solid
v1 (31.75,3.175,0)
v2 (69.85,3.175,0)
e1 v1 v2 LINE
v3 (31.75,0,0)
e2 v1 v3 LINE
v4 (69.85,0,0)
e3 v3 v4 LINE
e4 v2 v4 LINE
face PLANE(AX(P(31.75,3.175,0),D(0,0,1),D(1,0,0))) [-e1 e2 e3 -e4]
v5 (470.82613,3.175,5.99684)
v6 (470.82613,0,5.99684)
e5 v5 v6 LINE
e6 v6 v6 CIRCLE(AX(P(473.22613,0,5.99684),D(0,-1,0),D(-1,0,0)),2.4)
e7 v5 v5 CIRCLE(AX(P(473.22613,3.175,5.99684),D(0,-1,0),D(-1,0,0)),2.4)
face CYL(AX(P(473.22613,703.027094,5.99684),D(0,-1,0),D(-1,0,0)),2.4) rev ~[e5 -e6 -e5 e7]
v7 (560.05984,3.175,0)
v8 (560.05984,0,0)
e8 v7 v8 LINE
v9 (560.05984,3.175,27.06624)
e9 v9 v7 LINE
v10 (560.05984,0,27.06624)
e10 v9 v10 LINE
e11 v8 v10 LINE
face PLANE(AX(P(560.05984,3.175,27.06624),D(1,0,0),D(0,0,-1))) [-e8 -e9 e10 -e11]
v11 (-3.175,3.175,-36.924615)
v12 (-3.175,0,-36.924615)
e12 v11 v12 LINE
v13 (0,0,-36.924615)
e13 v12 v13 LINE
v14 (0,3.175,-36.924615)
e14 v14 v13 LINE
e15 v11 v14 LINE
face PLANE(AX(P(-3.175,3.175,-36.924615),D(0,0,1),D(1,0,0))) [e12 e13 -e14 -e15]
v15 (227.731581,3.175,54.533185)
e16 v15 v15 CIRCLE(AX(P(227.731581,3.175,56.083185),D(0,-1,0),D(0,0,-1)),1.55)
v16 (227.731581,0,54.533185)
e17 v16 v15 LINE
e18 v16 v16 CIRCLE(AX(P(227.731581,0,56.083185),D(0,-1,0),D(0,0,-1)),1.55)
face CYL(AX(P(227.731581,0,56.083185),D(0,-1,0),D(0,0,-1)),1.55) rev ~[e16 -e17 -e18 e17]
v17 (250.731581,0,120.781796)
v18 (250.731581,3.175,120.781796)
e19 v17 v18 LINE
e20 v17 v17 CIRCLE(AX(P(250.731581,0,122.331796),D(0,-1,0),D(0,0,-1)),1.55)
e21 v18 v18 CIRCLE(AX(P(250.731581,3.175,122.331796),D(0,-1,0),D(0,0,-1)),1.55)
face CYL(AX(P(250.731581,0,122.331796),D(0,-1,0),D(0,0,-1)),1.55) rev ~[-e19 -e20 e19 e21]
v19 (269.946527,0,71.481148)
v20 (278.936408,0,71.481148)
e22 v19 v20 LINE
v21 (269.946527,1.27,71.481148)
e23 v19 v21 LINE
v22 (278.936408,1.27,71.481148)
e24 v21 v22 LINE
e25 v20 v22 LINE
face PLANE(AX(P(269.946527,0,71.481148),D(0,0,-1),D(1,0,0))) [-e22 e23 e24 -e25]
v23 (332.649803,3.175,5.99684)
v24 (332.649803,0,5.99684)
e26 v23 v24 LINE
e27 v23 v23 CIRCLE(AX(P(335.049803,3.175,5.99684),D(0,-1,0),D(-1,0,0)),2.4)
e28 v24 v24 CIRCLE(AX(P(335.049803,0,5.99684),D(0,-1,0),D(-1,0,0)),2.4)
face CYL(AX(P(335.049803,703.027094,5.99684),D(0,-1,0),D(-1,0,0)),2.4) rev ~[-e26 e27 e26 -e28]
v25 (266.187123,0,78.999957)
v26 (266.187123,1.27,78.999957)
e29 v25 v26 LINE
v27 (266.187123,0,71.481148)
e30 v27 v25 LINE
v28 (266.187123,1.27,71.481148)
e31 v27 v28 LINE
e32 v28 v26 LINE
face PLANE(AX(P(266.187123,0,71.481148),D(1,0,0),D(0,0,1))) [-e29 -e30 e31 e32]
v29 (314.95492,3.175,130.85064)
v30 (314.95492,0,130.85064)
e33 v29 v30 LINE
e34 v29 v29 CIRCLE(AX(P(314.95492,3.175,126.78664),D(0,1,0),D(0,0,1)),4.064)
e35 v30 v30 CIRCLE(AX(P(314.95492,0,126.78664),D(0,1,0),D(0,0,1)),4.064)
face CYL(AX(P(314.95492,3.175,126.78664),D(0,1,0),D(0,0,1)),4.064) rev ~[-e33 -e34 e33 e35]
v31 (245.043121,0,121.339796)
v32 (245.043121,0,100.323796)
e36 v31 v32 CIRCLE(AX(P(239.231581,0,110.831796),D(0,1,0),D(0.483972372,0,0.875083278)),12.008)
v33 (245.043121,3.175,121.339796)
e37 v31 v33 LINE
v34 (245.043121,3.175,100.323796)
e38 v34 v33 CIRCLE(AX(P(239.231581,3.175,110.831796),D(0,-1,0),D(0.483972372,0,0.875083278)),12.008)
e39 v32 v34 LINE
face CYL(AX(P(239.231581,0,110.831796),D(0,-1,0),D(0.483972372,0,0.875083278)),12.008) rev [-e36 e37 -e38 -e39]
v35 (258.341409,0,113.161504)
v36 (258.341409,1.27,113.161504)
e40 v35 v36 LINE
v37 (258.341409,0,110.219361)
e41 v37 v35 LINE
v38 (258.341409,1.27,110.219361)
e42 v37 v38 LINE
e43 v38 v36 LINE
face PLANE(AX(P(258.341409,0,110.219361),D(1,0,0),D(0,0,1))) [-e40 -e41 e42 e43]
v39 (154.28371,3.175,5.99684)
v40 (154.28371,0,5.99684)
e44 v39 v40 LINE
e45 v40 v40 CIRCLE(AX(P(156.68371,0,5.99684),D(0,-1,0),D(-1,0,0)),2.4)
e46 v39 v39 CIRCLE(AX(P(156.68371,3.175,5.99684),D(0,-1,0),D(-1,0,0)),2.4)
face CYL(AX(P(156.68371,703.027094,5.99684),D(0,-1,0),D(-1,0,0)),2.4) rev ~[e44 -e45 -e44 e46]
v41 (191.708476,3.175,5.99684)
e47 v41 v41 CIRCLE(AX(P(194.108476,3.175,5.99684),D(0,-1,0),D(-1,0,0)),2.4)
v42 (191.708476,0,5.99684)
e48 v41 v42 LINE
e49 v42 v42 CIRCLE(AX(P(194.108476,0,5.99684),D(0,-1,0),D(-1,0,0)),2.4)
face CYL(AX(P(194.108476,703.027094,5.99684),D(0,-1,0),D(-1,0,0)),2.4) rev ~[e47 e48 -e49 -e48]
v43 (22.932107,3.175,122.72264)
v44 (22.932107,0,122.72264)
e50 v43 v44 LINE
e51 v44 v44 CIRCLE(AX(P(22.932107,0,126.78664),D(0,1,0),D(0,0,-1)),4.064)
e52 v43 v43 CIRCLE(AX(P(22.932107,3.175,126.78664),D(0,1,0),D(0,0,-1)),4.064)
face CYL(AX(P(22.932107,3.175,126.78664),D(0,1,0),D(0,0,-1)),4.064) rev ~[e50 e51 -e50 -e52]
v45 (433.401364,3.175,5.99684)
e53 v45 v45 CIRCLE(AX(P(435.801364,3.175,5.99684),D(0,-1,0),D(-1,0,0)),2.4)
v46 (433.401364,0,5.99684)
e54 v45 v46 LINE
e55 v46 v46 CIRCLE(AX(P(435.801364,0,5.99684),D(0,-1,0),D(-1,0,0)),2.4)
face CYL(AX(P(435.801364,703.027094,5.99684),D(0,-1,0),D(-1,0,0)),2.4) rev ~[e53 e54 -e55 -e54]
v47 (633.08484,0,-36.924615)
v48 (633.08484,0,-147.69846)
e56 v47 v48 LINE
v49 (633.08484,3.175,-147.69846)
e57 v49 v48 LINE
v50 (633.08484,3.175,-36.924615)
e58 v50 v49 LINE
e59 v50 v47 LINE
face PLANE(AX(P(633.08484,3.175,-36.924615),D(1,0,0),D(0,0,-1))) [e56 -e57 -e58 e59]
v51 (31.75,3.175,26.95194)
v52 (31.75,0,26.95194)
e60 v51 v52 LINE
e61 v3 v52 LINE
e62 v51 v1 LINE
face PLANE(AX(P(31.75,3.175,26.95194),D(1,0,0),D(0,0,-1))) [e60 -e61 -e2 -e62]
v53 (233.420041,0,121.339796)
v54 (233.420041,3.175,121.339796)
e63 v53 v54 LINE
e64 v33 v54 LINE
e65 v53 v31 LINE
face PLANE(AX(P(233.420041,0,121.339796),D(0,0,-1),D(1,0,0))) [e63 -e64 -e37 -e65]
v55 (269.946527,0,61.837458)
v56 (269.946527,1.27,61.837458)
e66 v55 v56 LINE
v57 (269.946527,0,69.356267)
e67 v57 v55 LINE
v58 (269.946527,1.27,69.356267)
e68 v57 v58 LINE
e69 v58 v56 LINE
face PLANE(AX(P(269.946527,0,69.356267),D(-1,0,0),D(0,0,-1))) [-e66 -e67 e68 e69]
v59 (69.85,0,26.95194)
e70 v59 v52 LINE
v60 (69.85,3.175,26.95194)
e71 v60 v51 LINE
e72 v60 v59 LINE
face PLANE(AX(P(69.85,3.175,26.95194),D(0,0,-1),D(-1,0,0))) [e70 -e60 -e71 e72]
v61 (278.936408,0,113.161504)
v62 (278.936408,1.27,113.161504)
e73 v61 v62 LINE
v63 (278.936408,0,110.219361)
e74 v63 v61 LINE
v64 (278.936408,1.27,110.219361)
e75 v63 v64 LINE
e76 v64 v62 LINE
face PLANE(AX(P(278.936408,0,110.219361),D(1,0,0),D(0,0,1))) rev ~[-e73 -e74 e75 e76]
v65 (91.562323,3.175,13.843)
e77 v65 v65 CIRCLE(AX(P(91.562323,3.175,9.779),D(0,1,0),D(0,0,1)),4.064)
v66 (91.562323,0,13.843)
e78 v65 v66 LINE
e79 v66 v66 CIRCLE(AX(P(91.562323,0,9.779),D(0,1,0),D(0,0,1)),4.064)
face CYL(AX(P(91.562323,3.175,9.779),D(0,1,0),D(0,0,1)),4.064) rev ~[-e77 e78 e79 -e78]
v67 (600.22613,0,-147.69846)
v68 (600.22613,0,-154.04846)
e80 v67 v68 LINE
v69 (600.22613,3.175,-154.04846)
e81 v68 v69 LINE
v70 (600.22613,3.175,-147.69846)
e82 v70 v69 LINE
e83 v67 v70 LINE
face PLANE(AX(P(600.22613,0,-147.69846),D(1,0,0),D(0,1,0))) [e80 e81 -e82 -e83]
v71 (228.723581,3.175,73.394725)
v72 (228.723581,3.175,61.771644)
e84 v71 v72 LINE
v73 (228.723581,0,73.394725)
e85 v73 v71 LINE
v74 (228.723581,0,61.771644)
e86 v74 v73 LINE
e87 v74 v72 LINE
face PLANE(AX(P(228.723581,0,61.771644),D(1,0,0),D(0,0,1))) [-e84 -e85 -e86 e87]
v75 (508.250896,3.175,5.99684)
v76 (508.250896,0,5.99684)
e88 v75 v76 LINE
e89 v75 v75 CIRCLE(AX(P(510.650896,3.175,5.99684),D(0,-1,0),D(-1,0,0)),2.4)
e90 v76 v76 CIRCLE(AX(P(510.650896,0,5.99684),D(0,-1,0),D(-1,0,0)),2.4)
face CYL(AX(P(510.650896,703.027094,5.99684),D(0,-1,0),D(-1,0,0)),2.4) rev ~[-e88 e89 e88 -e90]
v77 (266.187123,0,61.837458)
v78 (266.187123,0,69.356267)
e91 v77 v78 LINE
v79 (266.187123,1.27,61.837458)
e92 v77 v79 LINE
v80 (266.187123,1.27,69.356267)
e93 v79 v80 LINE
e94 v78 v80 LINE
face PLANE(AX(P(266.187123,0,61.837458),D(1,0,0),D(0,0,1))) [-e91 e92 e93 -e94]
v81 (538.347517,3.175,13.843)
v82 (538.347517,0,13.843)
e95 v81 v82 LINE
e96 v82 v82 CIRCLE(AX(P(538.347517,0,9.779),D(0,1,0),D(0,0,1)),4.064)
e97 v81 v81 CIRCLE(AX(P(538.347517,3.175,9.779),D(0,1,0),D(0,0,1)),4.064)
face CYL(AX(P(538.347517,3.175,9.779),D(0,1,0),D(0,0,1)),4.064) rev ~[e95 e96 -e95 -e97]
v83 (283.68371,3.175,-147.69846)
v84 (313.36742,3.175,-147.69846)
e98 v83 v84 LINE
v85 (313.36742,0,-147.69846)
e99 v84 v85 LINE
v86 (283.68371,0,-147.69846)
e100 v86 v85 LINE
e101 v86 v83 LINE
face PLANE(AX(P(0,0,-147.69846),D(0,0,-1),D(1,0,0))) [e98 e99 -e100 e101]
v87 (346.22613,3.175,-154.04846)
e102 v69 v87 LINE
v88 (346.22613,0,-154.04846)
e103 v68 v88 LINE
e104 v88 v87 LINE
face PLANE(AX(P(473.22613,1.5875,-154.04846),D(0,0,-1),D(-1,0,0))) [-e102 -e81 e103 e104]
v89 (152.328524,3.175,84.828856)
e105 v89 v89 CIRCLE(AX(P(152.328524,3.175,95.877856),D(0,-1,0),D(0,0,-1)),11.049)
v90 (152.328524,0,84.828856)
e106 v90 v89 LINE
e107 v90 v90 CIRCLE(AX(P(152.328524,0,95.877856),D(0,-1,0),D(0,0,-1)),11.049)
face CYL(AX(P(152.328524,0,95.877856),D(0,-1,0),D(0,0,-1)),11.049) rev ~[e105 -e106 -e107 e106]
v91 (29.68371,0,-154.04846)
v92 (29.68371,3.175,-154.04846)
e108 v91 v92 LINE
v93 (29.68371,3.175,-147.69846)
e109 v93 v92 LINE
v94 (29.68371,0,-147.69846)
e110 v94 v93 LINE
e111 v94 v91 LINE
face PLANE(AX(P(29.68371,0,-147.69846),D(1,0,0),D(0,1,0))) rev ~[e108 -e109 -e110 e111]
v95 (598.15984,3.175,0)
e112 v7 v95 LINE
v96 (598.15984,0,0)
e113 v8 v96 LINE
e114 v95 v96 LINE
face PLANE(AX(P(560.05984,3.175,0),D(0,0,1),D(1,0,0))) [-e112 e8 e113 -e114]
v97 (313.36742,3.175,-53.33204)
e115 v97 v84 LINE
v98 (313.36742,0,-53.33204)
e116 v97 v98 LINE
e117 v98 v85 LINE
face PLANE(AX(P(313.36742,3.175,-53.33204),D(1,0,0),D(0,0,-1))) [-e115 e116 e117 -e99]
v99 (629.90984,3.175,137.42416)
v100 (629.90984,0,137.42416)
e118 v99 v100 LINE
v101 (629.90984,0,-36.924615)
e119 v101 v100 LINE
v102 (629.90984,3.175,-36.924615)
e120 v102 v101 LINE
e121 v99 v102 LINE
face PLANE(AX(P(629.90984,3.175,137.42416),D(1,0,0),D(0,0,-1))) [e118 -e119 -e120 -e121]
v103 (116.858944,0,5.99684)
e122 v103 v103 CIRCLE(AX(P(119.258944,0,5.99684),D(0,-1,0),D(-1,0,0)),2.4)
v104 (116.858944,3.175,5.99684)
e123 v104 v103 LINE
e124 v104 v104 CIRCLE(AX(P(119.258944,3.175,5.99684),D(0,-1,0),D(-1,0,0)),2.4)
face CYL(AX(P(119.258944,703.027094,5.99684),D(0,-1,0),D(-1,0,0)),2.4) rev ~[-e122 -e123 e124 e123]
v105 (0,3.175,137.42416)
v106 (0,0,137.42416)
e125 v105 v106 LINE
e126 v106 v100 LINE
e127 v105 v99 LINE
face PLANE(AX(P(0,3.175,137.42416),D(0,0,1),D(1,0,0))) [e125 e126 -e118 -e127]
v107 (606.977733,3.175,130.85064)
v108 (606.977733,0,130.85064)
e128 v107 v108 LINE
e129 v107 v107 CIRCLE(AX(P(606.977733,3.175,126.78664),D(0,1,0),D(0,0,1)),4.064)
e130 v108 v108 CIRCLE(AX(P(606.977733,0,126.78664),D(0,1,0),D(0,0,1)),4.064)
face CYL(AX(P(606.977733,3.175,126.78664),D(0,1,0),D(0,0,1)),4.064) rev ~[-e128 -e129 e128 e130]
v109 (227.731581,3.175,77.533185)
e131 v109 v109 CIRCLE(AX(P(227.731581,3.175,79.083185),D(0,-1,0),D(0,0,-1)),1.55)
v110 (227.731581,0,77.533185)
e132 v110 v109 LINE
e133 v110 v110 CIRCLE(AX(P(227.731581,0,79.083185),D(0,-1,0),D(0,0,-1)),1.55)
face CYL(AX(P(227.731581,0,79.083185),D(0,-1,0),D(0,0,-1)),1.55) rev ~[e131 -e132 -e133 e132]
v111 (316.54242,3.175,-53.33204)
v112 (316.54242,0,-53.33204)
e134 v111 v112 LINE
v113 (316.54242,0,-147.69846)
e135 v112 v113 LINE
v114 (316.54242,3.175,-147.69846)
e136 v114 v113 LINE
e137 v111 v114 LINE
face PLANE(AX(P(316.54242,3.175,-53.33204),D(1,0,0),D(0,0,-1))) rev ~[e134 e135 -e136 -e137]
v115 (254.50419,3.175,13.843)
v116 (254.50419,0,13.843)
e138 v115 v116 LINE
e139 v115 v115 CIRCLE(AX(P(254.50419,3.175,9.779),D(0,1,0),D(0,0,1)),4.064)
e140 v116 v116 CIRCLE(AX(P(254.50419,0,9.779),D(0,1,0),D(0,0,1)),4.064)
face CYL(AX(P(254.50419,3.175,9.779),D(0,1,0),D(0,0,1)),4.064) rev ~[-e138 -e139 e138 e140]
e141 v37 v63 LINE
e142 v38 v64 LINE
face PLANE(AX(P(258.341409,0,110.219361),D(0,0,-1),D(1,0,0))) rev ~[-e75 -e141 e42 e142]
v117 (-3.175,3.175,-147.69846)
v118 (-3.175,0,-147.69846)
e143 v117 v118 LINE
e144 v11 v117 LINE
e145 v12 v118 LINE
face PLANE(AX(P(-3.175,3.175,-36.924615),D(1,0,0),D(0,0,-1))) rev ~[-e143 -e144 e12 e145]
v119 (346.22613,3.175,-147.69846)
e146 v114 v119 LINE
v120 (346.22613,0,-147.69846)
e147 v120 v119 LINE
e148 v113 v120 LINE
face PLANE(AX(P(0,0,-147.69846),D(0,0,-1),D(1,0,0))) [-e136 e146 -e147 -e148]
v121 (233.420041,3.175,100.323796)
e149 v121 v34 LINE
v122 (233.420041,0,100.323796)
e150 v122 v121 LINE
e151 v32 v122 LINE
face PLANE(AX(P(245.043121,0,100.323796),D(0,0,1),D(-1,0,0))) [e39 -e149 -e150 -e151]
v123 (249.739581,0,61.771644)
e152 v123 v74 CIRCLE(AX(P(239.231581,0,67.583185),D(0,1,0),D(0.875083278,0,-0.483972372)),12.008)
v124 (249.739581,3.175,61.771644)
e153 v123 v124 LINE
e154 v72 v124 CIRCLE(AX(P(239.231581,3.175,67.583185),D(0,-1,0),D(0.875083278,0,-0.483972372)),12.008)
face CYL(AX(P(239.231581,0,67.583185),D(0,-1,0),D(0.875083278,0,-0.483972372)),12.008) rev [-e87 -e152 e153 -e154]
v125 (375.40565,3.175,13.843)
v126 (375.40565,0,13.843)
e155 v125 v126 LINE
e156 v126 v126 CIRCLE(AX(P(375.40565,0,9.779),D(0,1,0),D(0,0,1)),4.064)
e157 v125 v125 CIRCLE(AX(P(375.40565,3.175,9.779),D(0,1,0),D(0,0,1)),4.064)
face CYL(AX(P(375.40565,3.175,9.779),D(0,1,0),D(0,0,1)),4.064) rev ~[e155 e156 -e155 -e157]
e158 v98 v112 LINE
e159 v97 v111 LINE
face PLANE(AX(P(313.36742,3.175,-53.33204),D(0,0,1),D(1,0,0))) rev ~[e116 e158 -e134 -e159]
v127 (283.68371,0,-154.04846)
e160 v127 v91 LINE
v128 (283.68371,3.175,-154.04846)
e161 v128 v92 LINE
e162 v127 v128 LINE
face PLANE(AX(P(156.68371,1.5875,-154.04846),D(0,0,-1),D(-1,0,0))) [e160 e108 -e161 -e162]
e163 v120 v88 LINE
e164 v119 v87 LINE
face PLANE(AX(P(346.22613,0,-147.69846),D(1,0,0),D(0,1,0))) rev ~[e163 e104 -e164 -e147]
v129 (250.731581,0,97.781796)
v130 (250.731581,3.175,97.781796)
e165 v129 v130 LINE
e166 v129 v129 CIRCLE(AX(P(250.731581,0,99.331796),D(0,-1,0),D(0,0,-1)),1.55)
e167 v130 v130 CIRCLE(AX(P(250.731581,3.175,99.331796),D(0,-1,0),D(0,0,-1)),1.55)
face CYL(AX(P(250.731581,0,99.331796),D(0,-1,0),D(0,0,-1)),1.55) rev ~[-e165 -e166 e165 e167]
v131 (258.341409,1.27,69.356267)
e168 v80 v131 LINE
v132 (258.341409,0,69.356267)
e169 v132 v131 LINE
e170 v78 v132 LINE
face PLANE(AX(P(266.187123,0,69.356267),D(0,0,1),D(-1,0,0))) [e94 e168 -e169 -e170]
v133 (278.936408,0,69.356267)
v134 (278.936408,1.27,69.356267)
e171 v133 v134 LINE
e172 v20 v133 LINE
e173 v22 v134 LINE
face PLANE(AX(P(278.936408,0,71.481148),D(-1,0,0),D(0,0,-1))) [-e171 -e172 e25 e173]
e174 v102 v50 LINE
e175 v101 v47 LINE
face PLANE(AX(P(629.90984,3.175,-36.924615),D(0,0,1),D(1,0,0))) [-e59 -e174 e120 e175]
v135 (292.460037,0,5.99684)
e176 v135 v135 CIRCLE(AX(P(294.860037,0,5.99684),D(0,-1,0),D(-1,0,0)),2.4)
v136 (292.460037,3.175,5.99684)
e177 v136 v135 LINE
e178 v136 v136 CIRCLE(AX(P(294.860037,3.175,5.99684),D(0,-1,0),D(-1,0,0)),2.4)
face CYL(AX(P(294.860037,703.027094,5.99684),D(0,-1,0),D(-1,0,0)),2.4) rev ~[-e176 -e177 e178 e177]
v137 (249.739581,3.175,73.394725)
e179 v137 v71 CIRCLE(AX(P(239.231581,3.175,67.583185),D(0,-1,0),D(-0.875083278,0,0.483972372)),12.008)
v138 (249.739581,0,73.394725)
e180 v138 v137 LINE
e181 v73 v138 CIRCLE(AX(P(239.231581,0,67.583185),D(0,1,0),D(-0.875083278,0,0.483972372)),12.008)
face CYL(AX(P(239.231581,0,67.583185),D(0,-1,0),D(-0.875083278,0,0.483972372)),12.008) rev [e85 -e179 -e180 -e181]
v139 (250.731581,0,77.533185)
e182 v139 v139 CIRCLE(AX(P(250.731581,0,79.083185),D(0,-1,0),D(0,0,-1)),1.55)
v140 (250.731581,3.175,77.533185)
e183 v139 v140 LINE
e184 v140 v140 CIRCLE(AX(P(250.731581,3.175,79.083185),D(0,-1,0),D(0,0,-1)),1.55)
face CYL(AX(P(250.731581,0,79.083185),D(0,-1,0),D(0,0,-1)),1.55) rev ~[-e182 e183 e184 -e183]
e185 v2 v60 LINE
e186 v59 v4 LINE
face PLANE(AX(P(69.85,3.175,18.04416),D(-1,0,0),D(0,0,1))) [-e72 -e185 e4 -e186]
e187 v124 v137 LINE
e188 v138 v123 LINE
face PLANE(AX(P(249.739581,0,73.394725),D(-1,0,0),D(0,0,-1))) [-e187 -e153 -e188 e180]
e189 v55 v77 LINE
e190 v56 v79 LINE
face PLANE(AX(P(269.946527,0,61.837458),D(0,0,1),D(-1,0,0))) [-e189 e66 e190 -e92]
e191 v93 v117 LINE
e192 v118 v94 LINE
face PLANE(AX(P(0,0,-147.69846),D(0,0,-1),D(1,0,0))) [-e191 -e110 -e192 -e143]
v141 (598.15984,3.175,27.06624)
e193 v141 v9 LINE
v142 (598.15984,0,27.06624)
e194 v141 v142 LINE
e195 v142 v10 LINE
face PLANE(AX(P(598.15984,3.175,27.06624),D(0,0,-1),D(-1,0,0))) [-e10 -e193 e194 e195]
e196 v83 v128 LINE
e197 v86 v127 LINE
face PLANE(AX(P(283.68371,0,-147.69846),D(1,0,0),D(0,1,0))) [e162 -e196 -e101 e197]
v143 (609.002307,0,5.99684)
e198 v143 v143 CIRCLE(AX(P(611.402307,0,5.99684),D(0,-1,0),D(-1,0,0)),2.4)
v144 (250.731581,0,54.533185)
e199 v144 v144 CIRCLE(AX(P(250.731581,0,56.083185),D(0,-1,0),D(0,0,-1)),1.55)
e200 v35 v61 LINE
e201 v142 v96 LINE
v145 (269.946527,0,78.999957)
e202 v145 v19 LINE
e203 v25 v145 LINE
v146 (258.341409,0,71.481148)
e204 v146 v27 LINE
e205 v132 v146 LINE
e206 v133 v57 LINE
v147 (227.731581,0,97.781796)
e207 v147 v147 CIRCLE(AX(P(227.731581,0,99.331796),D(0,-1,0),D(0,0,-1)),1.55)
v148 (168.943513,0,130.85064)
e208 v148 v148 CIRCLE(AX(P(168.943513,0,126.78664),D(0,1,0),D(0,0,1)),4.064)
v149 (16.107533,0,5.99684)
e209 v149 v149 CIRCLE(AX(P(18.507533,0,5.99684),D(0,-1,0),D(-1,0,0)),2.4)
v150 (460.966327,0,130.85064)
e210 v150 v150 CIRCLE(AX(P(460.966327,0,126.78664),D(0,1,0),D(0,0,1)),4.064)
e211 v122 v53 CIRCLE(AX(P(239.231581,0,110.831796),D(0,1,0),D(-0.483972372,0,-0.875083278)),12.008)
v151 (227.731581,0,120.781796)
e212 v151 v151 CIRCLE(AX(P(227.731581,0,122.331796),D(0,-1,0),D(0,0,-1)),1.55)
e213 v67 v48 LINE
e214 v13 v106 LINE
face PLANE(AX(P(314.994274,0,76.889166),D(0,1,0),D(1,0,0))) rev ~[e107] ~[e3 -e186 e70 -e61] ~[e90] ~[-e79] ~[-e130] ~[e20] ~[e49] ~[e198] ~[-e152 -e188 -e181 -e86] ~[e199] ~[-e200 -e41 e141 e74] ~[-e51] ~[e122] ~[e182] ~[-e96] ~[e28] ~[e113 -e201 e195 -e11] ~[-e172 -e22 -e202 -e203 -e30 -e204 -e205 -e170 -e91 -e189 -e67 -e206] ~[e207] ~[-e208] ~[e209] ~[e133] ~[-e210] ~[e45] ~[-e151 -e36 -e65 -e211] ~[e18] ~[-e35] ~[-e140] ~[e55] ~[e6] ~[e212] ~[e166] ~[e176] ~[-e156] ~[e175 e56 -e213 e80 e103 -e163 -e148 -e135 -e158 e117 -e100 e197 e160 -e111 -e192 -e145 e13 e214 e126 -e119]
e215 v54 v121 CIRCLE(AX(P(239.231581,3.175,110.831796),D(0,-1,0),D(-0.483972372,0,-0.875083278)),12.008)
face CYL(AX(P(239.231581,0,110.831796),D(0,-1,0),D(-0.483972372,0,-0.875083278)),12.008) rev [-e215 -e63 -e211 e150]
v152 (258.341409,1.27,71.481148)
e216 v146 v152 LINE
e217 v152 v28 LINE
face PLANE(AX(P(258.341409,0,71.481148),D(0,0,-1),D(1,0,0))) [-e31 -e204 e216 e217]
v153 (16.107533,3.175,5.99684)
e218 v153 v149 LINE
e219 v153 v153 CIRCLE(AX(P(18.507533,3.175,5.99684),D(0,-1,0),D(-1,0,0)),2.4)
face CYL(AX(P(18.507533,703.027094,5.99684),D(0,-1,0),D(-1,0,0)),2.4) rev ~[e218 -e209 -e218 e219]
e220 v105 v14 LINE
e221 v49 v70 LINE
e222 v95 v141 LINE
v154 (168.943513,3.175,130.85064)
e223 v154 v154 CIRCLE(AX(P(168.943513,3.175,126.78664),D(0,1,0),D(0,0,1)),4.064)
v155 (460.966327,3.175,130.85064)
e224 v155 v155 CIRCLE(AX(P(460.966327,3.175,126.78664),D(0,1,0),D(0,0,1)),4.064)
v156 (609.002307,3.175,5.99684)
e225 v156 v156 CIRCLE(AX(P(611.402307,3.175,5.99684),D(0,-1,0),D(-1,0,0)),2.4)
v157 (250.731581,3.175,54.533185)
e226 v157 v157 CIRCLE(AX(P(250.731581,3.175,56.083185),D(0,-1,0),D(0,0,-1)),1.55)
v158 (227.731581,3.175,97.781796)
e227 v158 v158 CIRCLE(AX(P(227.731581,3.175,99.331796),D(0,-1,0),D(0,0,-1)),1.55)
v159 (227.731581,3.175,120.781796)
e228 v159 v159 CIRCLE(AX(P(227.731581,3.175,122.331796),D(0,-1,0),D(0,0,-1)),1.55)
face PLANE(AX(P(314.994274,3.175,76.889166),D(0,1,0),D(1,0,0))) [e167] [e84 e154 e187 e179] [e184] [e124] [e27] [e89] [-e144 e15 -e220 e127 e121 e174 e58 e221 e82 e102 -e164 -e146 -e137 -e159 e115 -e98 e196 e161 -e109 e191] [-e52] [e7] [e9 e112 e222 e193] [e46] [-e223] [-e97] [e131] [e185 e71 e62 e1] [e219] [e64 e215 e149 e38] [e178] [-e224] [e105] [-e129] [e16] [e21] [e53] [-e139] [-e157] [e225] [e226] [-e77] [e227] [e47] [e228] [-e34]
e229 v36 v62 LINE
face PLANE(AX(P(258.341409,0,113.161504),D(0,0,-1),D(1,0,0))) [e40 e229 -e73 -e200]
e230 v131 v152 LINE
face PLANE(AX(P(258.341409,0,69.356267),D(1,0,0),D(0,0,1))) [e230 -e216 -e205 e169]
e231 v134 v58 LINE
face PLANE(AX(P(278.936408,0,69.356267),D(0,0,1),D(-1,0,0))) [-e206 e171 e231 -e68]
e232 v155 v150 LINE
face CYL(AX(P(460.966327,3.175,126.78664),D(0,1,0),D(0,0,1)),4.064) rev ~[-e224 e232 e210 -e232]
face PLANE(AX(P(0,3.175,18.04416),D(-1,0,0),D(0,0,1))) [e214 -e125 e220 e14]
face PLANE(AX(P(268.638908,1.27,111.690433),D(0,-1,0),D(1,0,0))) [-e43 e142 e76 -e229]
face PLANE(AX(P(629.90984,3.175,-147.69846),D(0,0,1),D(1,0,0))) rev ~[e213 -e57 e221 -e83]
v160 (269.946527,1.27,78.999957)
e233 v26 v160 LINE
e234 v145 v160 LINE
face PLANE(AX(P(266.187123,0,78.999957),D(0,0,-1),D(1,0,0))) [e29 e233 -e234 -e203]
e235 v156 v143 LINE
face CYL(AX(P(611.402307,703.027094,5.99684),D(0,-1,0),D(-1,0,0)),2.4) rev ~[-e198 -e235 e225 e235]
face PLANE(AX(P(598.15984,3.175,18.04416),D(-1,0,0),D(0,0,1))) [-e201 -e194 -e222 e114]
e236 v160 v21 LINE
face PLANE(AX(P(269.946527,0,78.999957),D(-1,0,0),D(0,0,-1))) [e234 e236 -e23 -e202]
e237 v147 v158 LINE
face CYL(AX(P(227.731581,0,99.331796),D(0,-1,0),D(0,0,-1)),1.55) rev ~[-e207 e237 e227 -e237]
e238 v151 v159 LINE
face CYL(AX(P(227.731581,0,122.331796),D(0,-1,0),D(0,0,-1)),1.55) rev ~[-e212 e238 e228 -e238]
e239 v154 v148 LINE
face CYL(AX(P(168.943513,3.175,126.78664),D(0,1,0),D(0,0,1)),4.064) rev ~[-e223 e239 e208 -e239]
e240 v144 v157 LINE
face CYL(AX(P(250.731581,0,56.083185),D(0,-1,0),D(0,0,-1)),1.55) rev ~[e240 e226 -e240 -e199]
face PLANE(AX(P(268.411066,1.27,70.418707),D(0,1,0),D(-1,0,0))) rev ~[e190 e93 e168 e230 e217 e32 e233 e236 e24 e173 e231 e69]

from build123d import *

# Parameters (mm, degrees)
SKETCH1_W            = 629.90984
SKETCH1_H            = 147.69846
BOSS_EXTRUDE1_DEPTH  = 3.175
SKETCH3_W            = 254
SKETCH3_H            = 3.175
BOSS_EXTRUDE2_DEPTH  = 6.35
SKETCH4_W            = 3.175
SKETCH4_H            = 188.732840052
CUT_EXTRUDE1_DEPTH   = 3.175
SKETCH6_W            = 3.175
SKETCH6_H            = 110.773845
BOSS_EXTRUDE4_DEPTH  = 3.175
SKETCH8_W            = 629.90984
SKETCH8_H            = 18.04416
BOSS_EXTRUDE5_DEPTH  = 3.175
SKETCH10_W           = 38.1
SKETCH10_H           = 36.08832
CUT_EXTRUDE3_DEPTH   = 652.56536379
BOSS_EXTRUDE6_DEPTH  = 3.175
SKETCH13_R           = 1.55
SKETCH13_R_2         = 11.049
CUT_EXTRUDE4_DEPTH   = 652.56536379
SKETCH20_W           = 20.59499956
SKETCH20_H           = 2.942142794
CUT_EXTRUDE7_DEPTH   = 1.27
SKETCH21_R           = 4.064
CUT_EXTRUDE8_DEPTH   = 652.56536379
SKETCH23_R           = 4.064
CUT_EXTRUDE10_DEPTH  = 652.56536379
M4_CLEARANCE_HOLE1_D = 4.8


with BuildPart() as part:
    # Sketch1 → Boss-Extrude1 (new body)
    with BuildSketch(Plane(origin=(0, 0, 0), x_dir=(1, 0, 0), z_dir=(0, 1, 0))):
        with Locations((314.95492, 73.84923)):
            Rectangle(SKETCH1_W, SKETCH1_H)
    extrude(amount=BOSS_EXTRUDE1_DEPTH)

    # Sketch3 → Boss-Extrude2 (add)
    with BuildSketch(Plane(origin=(0, 0, -147.69846), x_dir=(-1, 0, 0), z_dir=(0, 0, -1))):
        with Locations((-473.22613, 1.5875)):
            Rectangle(SKETCH3_W, SKETCH3_H)
        with Locations((-156.68371, 1.5875)):
            Rectangle(SKETCH3_W, SKETCH3_H)
    extrude(amount=BOSS_EXTRUDE2_DEPTH)

    # Sketch4 → Cut-Extrude1 (cut)
    with BuildSketch(Plane(origin=(0, 3.175, 0), x_dir=(1, 0, 0), z_dir=(0, 1, 0))):
        with Locations((314.95492, 147.69846)):
            Rectangle(SKETCH4_W, SKETCH4_H)
    extrude(amount=-CUT_EXTRUDE1_DEPTH, mode=Mode.SUBTRACT)

    # Sketch6 → Boss-Extrude4 (add)
    with BuildSketch(Plane(origin=(0, 3.175, 0), x_dir=(1, 0, 0), z_dir=(0, 1, 0))):
        with Locations((631.49734, 92.3115375)):
            Rectangle(SKETCH6_W, SKETCH6_H)
        with Locations((-1.5875, 92.3115375)):
            Rectangle(SKETCH6_W, SKETCH6_H)
    extrude(amount=-BOSS_EXTRUDE4_DEPTH)

    # Sketch8 → Boss-Extrude5 (add, through all)
    with BuildSketch(Plane(origin=(0, 3.175, 0), x_dir=(1, 0, 0), z_dir=(0, 1, 0))):
        with Locations((314.95492, -9.02208)):
            Rectangle(SKETCH8_W, SKETCH8_H)
    extrude(amount=-BOSS_EXTRUDE5_DEPTH)

    # Sketch10 → Cut-Extrude3 (cut, through all)
    with BuildSketch(Plane(origin=(0, 3.175, 0), x_dir=(1, 0, 0), z_dir=(0, 1, 0))):
        with Locations((579.10984, -18.04416)):
            Rectangle(SKETCH10_W, SKETCH10_H)
        with Locations((50.8, -18.04416)):
            Rectangle(SKETCH10_W, SKETCH10_H)
    extrude(amount=-CUT_EXTRUDE3_DEPTH, mode=Mode.SUBTRACT)

    # Sketch11 → Boss-Extrude6 (add, through all)
    with BuildSketch(Plane(origin=(0, 3.175, 0), x_dir=(1, 0, 0), z_dir=(0, 1, 0))):
        Polygon((0, -18.04416), (0, -137.42416), (629.90984, -137.42416), (629.90984, -18.04416), (598.15984, -18.04416), (598.15984, -27.06624), (560.05984, -27.06624), (560.05984, -18.04416), (386.39242, -18.04416), (348.29242, -18.04416), (281.61742, -18.04416), (243.51742, -18.04416), (69.85, -18.04416), (69.85, -26.95194), (31.75, -26.95194), (31.75, -18.04416), align=None)
    extrude(amount=-BOSS_EXTRUDE6_DEPTH)

    # Sketch13 → Cut-Extrude4 (cut, through all)
    with BuildSketch(Plane.XZ):
        with Locations(Location((227.731580951, 122.331796051, 0), (0, 0, 270))):
            Circle(SKETCH13_R)
        with Locations(Location((250.731580951, 122.331796051, 0), (0, 0, 270))):
            Circle(SKETCH13_R)
        with Locations(Location((227.731580951, 99.331796051, 0), (0, 0, 270))):
            Circle(SKETCH13_R)
        with Locations(Location((250.731580951, 99.331796051, 0), (0, 0, 270))):
            Circle(SKETCH13_R)
        with Locations(Location((152.328523542, 95.877856055, 0), (0, 0, 270))):
            Circle(SKETCH13_R_2)
        with Locations(Location((227.731580951, 79.083184621, 0), (0, 0, 270))):
            Circle(SKETCH13_R)
        with Locations(Location((227.731580951, 56.083184621, 0), (0, 0, 270))):
            Circle(SKETCH13_R)
        with Locations(Location((250.731580951, 56.083184621, 0), (0, 0, 270))):
            Circle(SKETCH13_R)
        with Locations(Location((250.731580951, 79.083184621, 0), (0, 0, 270))):
            Circle(SKETCH13_R)
        with BuildLine():
            Line((245.043121195, 100.323796051), (233.420040708, 100.323796051))
            ThreePointArc((233.420040708, 100.323796051), (227.223580951, 110.831796051), (233.420040708, 121.339796051))
            Line((233.420040708, 121.339796051), (245.043121195, 121.339796051))
            ThreePointArc((245.043121195, 121.339796051), (251.239580951, 110.831796051), (245.043121195, 100.323796051))
        make_face()
        with BuildLine():
            Line((249.739580951, 73.394724865), (249.739580951, 61.771644378))
            ThreePointArc((249.739580951, 61.771644378), (239.231580951, 55.575184621), (228.723580951, 61.771644378))
            Line((228.723580951, 61.771644378), (228.723580951, 73.394724865))
            ThreePointArc((228.723580951, 73.394724865), (239.231580951, 79.591184621), (249.739580951, 73.394724865))
        make_face()
    extrude(amount=-CUT_EXTRUDE4_DEPTH, mode=Mode.SUBTRACT)

    # Sketch20 → Cut-Extrude7 (cut)
    with BuildSketch(Plane.XZ):
        Polygon((269.946527362, 71.481147903), (278.936408122, 71.481147903), (278.936408122, 69.356266996), (269.946527362, 69.356266996), (269.946527362, 61.837457633), (266.18712268, 61.837457633), (266.18712268, 69.356266996), (258.341408562, 69.356266996), (258.341408562, 71.481147903), (266.18712268, 71.481147903), (266.18712268, 78.999957266), (269.946527362, 78.999957266), align=None)
        with Locations((268.638908342, 111.690432757)):
            Rectangle(SKETCH20_W, SKETCH20_H)
    extrude(amount=-CUT_EXTRUDE7_DEPTH, mode=Mode.SUBTRACT)

    # Sketch21 → Cut-Extrude8 (cut, through all)
    with BuildSketch(Plane(origin=(0, 3.175, 0), x_dir=(1, 0, 0), z_dir=(0, 1, 0))):
        with Locations(Location((168.943513391, -126.78664, 0), (0, 0, 270))):
            Circle(SKETCH21_R)
        with Locations(Location((314.95492, -126.78664, 0), (0, 0, 270))):
            Circle(SKETCH21_R)
        with Locations(Location((460.966326609, -126.78664, 0), (0, 0, 270))):
            Circle(SKETCH21_R)
        with Locations(Location((606.977733219, -126.78664, 0), (0, 0, 270))):
            Circle(SKETCH21_R)
        with Locations(Location((22.932106781, -126.78664, 0), (0, 0, 90))):
            Circle(SKETCH21_R)
    extrude(amount=-CUT_EXTRUDE8_DEPTH, mode=Mode.SUBTRACT)

    # Sketch23 → Cut-Extrude10 (cut, through all)
    with BuildSketch(Plane(origin=(0, 3.175, 0), x_dir=(1, 0, 0), z_dir=(0, 1, 0))):
        with Locations(Location((538.347516778, -9.779, 0), (0, 0, 270))):
            Circle(SKETCH23_R)
        with Locations(Location((375.40565, -9.779, 0), (0, 0, 270))):
            Circle(SKETCH23_R)
        with Locations(Location((254.50419, -9.779, 0), (0, 0, 270))):
            Circle(SKETCH23_R)
        with Locations(Location((91.562323222, -9.779, 0), (0, 0, 270))):
            Circle(SKETCH23_R)
    extrude(amount=-CUT_EXTRUDE10_DEPTH, mode=Mode.SUBTRACT)

    # M4 Clearance Hole1 (through all)
    with Locations(Plane(origin=(0, 3.175, 0), x_dir=(1, 0, 0), z_dir=(0, 1, 0))):
        with Locations((611.402306504, -5.996840051), (510.650895752, -5.996840051), (473.22613, -5.996840051), (435.801364248, -5.996840051), (335.049803495, -5.996840051), (294.860036505, -5.996840051), (194.108475752, -5.996840051), (156.68371, -5.996840051), (119.258944248, -5.996840051), (18.507533496, -5.996840051)):
            Hole(M4_CLEARANCE_HOLE1_D / 2)


solid = part.part
